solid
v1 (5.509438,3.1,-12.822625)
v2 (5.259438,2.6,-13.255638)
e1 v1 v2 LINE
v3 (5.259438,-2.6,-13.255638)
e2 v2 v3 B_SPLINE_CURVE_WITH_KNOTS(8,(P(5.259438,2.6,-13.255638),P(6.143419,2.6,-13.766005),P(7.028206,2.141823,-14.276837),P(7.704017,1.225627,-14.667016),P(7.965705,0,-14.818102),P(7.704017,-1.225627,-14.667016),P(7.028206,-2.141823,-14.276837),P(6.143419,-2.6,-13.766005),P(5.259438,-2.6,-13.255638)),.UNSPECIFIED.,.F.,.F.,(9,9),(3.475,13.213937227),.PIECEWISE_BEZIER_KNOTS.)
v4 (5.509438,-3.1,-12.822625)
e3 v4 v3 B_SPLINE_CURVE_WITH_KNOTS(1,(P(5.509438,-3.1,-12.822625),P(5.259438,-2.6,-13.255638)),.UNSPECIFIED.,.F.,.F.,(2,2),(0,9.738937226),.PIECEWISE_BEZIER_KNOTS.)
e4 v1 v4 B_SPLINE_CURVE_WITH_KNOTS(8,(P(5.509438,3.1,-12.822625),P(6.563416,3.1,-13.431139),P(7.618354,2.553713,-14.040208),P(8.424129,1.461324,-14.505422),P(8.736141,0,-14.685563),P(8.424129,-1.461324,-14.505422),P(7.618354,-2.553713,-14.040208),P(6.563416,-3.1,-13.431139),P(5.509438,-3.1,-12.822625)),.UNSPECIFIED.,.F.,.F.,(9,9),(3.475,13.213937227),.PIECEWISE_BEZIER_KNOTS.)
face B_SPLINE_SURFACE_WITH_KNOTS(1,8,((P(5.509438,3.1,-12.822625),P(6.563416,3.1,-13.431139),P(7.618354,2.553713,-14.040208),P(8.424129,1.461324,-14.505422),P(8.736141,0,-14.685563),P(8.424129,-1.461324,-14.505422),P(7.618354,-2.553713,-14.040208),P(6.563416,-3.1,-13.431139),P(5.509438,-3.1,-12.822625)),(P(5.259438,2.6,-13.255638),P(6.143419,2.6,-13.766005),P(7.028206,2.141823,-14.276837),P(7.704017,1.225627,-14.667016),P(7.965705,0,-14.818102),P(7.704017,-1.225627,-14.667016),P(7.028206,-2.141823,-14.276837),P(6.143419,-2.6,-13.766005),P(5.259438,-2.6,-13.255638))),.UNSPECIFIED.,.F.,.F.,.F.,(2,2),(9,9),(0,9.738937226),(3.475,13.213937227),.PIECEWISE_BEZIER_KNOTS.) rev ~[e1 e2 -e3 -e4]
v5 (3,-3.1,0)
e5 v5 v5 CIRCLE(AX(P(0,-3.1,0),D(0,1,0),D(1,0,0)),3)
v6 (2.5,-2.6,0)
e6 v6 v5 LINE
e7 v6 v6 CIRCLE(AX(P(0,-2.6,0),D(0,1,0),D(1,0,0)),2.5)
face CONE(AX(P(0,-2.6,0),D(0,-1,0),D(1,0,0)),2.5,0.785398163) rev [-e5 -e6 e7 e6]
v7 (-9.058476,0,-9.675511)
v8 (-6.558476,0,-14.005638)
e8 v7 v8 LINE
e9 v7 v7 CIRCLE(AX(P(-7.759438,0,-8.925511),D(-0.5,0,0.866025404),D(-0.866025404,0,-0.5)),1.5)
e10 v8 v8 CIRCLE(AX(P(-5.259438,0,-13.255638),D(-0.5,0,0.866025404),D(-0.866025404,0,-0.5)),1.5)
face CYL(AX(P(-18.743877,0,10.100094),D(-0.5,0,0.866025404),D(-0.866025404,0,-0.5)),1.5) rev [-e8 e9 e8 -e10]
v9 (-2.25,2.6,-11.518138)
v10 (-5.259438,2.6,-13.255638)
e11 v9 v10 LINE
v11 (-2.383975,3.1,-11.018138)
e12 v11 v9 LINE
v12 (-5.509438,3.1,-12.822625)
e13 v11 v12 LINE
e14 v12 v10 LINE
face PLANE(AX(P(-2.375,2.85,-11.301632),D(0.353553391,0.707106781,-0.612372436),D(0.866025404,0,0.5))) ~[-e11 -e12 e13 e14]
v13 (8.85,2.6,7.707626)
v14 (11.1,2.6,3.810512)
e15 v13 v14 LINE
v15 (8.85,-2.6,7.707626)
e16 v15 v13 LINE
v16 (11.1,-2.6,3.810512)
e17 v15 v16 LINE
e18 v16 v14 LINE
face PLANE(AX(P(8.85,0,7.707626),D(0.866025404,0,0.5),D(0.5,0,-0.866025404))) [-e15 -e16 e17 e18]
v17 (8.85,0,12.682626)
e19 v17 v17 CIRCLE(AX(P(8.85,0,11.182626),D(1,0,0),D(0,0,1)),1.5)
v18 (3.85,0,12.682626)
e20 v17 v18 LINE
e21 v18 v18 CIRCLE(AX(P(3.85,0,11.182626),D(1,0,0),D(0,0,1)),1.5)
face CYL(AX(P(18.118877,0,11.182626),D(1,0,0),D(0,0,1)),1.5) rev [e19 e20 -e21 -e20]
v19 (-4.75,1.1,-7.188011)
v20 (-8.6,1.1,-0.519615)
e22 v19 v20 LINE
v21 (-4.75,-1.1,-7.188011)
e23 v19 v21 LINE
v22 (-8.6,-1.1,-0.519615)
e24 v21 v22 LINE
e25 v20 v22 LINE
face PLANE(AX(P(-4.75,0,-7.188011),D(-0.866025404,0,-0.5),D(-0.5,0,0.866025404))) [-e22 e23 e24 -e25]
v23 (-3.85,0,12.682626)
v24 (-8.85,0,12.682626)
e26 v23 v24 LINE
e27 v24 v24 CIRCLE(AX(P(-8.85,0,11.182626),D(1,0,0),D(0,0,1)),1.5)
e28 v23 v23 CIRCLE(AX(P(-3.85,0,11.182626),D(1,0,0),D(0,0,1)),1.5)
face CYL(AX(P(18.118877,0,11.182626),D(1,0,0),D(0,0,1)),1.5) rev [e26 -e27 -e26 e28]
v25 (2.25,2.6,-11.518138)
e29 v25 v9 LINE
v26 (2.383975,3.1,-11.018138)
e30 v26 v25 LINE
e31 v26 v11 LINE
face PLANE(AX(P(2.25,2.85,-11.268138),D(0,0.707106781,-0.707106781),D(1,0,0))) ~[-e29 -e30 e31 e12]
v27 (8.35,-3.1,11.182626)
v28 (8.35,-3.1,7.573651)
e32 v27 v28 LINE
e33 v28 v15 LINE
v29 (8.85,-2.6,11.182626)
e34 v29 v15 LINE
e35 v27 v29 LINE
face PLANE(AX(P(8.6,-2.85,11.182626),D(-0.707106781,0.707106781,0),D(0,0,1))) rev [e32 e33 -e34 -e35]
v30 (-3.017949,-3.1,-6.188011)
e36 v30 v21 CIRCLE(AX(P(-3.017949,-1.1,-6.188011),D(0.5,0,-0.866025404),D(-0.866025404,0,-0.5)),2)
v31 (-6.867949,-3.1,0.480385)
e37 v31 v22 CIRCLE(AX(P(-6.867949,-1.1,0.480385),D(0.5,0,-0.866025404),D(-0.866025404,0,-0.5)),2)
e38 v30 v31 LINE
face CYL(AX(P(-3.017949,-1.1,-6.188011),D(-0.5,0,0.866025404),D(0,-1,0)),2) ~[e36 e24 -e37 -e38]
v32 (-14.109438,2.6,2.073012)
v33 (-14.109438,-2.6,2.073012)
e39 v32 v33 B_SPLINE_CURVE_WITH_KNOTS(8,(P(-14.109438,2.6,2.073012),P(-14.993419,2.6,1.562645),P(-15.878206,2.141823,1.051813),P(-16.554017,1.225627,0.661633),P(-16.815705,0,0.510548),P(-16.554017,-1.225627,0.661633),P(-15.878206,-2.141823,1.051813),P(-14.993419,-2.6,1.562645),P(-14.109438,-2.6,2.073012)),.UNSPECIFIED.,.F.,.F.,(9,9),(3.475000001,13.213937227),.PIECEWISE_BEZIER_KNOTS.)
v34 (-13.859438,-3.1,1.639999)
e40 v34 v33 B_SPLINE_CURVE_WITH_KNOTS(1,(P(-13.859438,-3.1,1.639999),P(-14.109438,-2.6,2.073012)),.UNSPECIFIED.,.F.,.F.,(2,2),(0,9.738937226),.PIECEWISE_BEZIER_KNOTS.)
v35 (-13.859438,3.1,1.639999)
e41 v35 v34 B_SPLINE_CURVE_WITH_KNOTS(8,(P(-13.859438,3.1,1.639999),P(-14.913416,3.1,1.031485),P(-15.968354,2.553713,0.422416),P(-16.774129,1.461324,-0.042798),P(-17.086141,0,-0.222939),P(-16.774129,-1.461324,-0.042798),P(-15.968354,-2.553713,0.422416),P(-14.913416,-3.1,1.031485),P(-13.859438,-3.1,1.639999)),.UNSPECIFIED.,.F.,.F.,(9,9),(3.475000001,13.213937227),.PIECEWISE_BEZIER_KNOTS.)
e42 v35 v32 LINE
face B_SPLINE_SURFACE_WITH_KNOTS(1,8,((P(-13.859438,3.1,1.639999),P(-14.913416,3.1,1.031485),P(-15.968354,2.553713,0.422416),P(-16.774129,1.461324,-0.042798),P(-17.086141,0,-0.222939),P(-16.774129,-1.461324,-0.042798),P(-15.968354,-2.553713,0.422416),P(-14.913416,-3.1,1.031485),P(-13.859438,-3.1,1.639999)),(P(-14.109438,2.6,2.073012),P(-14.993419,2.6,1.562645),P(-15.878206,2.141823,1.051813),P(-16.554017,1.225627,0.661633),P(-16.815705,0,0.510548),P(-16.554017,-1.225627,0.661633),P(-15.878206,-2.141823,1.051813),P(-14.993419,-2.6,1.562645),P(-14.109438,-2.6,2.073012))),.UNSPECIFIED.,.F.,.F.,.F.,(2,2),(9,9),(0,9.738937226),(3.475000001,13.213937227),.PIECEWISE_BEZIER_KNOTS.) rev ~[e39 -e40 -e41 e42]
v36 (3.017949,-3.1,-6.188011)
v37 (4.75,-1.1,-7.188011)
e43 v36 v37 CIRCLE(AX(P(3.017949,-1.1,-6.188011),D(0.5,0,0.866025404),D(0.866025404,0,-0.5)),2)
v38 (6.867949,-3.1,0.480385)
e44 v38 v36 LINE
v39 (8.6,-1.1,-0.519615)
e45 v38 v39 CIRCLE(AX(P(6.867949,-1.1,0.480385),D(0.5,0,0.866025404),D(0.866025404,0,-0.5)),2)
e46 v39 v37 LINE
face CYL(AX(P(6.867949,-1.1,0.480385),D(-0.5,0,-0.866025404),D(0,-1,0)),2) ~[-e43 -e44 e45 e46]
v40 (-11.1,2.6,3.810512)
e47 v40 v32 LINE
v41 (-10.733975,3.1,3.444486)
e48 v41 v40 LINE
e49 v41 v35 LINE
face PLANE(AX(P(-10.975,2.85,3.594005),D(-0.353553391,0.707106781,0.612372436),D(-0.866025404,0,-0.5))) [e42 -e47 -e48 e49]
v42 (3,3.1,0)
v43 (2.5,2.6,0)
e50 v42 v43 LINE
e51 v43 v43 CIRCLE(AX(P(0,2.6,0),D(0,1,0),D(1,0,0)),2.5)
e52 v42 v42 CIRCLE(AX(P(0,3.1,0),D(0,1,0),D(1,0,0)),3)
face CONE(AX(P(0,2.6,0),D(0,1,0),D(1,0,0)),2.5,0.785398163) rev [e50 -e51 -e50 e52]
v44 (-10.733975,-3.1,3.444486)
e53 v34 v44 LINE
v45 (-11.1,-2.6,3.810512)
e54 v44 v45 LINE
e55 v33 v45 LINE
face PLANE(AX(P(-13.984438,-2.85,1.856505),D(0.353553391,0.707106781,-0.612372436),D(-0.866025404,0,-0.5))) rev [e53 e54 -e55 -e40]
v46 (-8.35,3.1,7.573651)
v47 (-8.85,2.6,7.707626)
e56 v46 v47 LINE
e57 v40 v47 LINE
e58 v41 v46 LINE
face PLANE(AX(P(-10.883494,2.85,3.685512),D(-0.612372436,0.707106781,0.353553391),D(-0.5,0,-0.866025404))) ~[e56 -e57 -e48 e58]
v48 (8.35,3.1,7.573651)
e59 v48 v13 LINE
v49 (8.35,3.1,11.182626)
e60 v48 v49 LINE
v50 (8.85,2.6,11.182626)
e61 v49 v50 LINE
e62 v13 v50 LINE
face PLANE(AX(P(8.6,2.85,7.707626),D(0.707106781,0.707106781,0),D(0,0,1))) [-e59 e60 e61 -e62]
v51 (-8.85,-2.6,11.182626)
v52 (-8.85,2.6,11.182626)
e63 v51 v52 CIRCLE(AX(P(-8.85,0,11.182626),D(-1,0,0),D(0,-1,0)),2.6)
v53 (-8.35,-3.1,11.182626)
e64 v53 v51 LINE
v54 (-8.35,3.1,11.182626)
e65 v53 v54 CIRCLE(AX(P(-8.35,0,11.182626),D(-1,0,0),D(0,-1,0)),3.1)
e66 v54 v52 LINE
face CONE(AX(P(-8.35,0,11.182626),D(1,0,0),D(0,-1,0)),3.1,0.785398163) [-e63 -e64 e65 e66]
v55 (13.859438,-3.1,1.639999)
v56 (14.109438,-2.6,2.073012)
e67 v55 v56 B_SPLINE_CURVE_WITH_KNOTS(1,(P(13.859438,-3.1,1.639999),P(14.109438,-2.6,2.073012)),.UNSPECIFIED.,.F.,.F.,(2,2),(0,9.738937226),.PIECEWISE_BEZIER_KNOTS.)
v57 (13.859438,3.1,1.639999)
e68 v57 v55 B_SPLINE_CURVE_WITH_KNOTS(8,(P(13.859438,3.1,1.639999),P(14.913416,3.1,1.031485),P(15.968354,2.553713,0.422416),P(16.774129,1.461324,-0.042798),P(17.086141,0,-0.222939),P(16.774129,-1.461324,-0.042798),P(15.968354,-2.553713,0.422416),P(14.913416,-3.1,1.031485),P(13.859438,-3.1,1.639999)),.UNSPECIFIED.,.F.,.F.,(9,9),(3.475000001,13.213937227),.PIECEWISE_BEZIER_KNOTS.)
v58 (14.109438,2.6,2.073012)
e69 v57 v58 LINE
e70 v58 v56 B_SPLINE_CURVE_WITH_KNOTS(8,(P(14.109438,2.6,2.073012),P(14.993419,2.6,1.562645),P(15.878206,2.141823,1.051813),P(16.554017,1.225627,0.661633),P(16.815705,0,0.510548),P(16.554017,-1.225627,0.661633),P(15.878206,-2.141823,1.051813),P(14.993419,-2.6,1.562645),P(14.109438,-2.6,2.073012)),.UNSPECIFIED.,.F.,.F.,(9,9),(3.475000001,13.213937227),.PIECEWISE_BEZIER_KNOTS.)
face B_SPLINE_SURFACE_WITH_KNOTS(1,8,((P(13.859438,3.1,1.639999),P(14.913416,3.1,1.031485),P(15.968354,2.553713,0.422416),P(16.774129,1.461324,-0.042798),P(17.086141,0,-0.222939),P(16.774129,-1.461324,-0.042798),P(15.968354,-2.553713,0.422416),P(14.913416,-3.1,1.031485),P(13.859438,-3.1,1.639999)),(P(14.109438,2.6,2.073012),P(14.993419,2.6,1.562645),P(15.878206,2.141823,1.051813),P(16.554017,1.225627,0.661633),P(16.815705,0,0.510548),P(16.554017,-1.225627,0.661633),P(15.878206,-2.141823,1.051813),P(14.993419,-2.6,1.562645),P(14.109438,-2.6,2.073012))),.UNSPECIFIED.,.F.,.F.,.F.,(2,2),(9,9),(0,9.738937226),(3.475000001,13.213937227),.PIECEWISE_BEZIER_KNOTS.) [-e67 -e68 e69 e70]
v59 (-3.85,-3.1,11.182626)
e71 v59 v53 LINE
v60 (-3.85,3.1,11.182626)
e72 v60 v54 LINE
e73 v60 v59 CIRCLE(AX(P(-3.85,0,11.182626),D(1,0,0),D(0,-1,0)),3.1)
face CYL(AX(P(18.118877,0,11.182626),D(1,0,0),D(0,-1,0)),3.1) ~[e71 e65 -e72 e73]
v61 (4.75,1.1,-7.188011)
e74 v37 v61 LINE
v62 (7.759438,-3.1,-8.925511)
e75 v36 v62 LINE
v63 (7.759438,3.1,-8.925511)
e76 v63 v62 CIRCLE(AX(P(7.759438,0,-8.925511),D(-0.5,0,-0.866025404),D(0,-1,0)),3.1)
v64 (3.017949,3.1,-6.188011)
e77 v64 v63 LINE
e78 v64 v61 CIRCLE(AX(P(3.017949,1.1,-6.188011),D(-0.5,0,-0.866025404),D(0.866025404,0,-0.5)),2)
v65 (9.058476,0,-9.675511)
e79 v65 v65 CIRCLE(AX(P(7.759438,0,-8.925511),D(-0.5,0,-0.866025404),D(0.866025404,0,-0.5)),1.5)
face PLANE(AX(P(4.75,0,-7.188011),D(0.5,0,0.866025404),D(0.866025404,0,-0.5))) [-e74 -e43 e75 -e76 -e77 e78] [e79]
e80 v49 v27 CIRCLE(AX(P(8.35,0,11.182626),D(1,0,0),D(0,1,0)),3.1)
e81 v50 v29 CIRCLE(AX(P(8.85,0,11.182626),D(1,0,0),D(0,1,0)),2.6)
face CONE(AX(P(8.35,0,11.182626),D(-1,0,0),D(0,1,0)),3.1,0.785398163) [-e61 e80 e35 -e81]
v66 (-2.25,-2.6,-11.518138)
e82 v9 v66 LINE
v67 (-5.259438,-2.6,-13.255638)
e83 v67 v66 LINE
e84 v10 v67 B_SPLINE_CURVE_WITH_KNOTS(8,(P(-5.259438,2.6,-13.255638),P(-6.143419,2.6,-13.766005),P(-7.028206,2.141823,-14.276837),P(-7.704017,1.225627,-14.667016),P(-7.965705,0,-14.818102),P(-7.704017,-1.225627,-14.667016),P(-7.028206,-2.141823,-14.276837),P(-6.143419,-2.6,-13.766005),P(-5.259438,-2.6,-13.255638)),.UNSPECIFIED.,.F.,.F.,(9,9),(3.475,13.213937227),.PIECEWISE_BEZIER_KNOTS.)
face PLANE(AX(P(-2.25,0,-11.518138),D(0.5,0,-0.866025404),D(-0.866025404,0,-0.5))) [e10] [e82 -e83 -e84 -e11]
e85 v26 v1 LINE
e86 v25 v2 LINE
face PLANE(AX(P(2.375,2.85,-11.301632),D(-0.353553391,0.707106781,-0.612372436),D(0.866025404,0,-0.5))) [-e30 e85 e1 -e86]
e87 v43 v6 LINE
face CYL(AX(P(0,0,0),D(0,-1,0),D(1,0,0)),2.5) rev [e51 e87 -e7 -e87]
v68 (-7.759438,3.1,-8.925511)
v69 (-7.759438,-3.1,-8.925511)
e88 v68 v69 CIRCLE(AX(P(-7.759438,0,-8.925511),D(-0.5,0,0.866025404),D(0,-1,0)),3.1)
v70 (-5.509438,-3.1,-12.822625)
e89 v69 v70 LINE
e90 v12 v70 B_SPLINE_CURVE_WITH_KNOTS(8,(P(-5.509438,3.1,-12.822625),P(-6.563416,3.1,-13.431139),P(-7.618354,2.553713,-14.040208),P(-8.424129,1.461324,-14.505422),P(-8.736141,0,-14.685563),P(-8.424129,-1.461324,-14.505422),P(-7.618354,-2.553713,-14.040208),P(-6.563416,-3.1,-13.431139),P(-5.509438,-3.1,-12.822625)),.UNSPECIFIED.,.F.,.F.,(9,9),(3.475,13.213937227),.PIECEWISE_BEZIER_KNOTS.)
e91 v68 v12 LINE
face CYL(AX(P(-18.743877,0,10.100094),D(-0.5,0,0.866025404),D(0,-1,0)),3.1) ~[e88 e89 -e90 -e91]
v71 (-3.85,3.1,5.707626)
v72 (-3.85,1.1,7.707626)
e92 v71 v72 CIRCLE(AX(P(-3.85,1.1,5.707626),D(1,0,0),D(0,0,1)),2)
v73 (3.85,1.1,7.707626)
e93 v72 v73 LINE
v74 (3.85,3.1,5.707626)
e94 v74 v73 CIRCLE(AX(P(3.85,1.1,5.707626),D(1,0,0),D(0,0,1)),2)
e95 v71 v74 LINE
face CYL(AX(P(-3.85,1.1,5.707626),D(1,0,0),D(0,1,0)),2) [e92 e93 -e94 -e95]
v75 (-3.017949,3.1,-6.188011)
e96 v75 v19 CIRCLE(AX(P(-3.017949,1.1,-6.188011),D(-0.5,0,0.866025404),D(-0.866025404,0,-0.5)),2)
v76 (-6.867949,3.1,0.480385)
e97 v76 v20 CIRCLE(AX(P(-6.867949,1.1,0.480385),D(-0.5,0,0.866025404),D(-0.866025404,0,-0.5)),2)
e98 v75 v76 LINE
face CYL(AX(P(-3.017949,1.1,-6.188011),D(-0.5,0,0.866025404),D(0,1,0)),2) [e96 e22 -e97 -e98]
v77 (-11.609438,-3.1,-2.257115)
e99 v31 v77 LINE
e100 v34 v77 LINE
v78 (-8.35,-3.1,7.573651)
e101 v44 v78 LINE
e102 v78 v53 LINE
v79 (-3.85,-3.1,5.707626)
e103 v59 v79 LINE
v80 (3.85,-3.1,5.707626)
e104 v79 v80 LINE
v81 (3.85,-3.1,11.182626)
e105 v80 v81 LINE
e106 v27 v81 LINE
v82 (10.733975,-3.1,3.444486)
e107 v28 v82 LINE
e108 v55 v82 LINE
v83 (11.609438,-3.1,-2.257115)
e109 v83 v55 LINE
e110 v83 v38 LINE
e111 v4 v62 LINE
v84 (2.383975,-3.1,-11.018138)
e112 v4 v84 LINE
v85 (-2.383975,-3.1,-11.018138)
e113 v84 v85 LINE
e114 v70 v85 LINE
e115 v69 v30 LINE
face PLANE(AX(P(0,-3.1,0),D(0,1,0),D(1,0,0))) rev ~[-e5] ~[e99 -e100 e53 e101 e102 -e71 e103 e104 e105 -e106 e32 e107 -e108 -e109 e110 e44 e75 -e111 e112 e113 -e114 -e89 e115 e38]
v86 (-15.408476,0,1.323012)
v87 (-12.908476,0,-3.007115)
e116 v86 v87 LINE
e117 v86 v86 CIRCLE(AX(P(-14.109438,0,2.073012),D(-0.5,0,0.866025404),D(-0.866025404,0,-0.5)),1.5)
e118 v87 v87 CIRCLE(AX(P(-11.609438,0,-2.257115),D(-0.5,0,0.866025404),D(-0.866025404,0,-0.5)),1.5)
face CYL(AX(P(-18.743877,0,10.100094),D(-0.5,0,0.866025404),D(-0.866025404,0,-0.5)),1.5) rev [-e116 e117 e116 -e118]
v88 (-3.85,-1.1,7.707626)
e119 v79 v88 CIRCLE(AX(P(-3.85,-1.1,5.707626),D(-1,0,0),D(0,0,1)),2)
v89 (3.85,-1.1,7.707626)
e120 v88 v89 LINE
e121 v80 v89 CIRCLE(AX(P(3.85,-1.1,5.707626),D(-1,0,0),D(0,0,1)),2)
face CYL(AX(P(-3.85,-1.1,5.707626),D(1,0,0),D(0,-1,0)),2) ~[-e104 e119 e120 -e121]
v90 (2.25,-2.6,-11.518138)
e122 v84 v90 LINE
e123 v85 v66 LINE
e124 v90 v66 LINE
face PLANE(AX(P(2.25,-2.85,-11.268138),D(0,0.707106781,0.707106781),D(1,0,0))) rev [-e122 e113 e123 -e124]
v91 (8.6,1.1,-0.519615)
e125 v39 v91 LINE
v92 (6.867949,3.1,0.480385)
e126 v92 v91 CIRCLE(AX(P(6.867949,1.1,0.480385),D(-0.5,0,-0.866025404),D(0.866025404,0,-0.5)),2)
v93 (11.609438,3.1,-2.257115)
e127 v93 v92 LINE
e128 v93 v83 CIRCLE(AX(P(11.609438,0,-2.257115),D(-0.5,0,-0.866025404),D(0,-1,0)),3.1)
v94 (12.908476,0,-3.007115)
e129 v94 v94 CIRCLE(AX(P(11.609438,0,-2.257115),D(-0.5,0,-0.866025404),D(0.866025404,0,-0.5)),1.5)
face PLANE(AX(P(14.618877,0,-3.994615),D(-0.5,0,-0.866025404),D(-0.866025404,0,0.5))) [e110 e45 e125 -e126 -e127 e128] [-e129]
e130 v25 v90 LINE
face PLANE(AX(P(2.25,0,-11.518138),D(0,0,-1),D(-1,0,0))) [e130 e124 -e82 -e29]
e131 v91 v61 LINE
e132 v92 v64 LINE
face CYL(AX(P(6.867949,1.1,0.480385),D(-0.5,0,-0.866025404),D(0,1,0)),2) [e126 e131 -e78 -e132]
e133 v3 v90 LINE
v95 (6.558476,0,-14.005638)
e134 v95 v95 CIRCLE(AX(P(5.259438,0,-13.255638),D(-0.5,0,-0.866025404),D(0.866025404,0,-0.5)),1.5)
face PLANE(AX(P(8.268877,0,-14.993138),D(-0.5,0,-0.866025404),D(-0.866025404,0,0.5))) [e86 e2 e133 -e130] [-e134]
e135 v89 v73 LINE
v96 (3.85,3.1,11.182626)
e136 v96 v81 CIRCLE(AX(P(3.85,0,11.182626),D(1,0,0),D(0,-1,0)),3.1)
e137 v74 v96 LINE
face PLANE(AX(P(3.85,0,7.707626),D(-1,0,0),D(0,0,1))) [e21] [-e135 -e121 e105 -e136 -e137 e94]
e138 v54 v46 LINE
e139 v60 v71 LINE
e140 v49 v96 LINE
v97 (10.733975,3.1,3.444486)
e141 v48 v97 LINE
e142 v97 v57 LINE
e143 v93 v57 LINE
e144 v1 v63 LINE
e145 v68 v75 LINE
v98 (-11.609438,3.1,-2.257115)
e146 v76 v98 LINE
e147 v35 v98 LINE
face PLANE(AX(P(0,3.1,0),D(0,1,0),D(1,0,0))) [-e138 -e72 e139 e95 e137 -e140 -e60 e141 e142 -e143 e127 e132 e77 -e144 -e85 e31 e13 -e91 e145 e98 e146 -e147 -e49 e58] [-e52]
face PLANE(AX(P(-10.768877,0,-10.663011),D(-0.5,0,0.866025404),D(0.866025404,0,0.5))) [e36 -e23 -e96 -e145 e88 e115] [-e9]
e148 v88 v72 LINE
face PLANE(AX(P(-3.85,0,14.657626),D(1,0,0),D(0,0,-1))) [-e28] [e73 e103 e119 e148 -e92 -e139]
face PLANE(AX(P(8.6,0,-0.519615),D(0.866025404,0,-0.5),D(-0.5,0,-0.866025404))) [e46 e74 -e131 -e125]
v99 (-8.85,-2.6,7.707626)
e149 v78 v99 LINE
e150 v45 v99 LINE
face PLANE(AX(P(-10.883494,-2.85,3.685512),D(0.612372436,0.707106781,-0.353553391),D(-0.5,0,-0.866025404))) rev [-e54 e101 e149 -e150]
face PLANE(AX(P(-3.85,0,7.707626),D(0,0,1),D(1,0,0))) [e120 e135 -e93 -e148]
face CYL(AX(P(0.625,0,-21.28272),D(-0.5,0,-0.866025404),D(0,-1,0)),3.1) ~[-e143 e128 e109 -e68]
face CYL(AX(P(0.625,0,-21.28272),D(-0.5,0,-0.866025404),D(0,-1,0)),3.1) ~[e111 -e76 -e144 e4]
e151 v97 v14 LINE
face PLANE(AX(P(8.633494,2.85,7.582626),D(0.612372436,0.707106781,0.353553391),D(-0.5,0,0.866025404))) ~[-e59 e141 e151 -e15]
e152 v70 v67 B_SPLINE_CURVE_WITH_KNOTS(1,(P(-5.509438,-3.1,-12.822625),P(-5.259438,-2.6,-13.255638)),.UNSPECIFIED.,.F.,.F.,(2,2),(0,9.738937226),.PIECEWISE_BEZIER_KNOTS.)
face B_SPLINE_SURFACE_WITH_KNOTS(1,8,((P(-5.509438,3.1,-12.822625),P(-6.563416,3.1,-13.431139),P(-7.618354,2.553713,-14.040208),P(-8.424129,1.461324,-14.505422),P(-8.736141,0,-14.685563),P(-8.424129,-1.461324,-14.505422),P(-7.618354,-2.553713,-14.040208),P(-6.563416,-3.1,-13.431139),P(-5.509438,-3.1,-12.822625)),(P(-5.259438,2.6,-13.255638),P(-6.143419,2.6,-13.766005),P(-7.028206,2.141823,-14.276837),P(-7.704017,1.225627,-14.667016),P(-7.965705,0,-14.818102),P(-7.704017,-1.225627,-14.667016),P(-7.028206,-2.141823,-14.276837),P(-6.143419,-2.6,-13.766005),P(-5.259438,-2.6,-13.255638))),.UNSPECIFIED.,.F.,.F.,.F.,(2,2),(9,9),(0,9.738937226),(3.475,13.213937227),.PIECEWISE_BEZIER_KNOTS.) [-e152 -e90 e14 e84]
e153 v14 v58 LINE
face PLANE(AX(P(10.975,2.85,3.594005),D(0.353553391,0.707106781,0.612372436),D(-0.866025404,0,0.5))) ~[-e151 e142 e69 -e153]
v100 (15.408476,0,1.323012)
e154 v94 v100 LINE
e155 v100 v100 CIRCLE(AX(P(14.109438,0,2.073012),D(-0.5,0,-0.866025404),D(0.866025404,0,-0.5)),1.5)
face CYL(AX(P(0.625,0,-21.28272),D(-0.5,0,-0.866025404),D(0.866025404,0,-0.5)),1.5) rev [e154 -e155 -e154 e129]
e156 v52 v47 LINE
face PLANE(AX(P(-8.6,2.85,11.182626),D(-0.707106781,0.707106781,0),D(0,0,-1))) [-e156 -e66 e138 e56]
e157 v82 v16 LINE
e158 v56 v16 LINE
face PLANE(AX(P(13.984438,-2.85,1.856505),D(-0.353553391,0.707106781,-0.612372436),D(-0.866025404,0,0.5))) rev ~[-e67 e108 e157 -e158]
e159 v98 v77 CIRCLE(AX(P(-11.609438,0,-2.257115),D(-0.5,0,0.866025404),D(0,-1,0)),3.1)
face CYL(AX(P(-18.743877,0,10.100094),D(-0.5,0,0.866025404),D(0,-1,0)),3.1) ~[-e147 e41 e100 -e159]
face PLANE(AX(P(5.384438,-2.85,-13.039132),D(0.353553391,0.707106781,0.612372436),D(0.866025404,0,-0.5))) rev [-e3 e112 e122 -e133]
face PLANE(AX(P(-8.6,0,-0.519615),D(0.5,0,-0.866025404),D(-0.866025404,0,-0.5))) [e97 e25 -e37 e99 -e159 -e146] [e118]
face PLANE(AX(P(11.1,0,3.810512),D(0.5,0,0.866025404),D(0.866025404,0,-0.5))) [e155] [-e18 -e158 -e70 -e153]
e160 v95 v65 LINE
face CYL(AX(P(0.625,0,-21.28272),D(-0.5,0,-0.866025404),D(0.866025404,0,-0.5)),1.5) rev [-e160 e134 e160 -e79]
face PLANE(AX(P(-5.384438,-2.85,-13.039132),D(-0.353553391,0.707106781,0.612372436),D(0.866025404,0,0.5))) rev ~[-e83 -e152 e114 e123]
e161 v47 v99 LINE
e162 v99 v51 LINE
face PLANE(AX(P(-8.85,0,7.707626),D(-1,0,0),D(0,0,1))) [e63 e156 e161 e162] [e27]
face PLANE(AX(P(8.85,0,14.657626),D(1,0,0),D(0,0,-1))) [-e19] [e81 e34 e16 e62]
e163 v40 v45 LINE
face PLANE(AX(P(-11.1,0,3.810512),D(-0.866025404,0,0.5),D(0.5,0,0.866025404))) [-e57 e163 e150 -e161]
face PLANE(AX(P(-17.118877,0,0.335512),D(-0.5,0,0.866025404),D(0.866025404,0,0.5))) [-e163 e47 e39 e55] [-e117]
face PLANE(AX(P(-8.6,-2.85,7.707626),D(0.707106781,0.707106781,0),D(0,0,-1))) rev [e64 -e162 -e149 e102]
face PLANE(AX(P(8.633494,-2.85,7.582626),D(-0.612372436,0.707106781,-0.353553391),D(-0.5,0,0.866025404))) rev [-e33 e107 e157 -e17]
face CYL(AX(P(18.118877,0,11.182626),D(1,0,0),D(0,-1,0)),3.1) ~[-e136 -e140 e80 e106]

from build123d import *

# Parameters (mm, degrees)
SKETCH1_R           = 2.5
BOSS_EXTRUDE1_DEPTH = 3.1
CUT_EXTRUDE1_START  = -26.968876556
SKETCH2_R           = 1.5
CUT_EXTRUDE1_DEPTH  = 36.237753113
CIRPATTERN5_COUNT   = 3
FILLET2_R           = 2
CHAMFER1_SIZE       = 0.5


with BuildPart() as part:
    # Sketch1 → Boss-Extrude1 (new body, symmetric)
    with BuildSketch(Plane(origin=(0, 0, 0), x_dir=(1, 0, 0), z_dir=(0, 1, 0))):
        Polygon((-8.85, -7.707626094), (-8.85, -14.657626094), (-3.85, -14.657626094), (-3.85, -7.707626094), (3.85, -7.707626094), (3.85, -14.657626094), (8.85, -14.657626094), (8.85, -7.707626094), (11.1, -3.810511777), (17.118876556, -0.335511777), (14.618876556, 3.994615242), (8.6, 0.519615242), (4.75, 7.188010851), (10.768876556, 10.663010851), (8.268876556, 14.99313787), (2.25, 11.51813787), (-2.25, 11.51813787), (-8.268876556, 14.99313787), (-10.768876556, 10.663010851), (-4.75, 7.188010851), (-8.6, 0.519615242), (-14.618876556, 3.994615242), (-17.118876556, -0.335511777), (-11.1, -3.810511777), align=None)
        Circle(SKETCH1_R, mode=Mode.SUBTRACT)
    extrude(amount=BOSS_EXTRUDE1_DEPTH, both=True)

    # Sketch2 → Cut-Extrude1 (cut)
    with BuildSketch(Plane.ZY.offset(8.85).offset(CUT_EXTRUDE1_START)):
        with Locations((11.182626094, 0)):
            Circle(SKETCH2_R)
        with BuildLine():
            Line((11.182626094, 3.1), (14.657626094, 3.1))
            Line((14.657626094, 3.1), (14.657626094, -3.1))
            Line((14.657626094, -3.1), (11.182626094, -3.1))
            ThreePointArc((11.182626094, -3.1), (14.282626094, 0), (11.182626094, 3.1))
        make_face()
    cut_extrude1 = extrude(amount=CUT_EXTRUDE1_DEPTH, mode=Mode.SUBTRACT)

    # CirPattern5: Cut-Extrude1 ×3 about axis
    cirpattern5_axis = Axis((0, 3.1, 0), (0, -1, 0))
    for i in range(1, CIRPATTERN5_COUNT):
        add(cut_extrude1.rotate(cirpattern5_axis, i * 360 / CIRPATTERN5_COUNT), mode=Mode.SUBTRACT)

    # Fillet2
    fillet2_edges = [part.edges().sort_by_distance(p)[0] for p in [
        (6.675, 3.1, -3.853813047),
        (0, -3.1, 7.707626094),
        (-6.675, -3.1, -3.853813047),
        (6.675, -3.1, -3.853813047),
        (-6.675, 3.1, -3.853813047),
        (0, 3.1, 7.707626094),
    ]]
    fillet(fillet2_edges, radius=FILLET2_R)

    # Chamfer1
    chamfer1_edges = [part.edges().sort_by_distance(p)[0] for p in [
        (-12.604719139, -3.1, 2.941761777),
        (-12.604719139, 3.1, 2.941761777),
        (-16.79411703, 0, 0.523011777),
        (3.754719139, -3.1, -12.38688787),
        (3.754719139, 3.1, -12.38688787),
        (7.94411703, 0, -14.80563787),
        (16.79411703, 0, 0.523011777),
        (-7.94411703, 0, -14.80563787),
        (-8.85, -3.1, 9.445126094),
        (-9.975, -3.1, 5.759068935),
        (-3.754719139, -3.1, -12.38688787),
        (0, -3.1, -11.51813787),
        (12.604719139, -3.1, 2.941761777),
        (9.975, -3.1, 5.759068935),
        (0, 3.1, -11.51813787),
        (-3.754719139, 3.1, -12.38688787),
        (9.975, 3.1, 5.759068935),
        (-2.5, -3.1, 0),
        (-2.5, 3.1, 0),
        (-9.975, 3.1, 5.759068935),
        (8.85, -3.1, 9.445126094),
        (-8.85, 3.1, 9.445126094),
        (8.85, 3.1, 9.445126094),
        (8.85, 0, 14.282626094),
        (-8.85, 0, 14.282626094),
        (12.604719139, 3.1, 2.941761777),
    ]]
    chamfer(chamfer1_edges, length=CHAMFER1_SIZE)


solid = part.part
